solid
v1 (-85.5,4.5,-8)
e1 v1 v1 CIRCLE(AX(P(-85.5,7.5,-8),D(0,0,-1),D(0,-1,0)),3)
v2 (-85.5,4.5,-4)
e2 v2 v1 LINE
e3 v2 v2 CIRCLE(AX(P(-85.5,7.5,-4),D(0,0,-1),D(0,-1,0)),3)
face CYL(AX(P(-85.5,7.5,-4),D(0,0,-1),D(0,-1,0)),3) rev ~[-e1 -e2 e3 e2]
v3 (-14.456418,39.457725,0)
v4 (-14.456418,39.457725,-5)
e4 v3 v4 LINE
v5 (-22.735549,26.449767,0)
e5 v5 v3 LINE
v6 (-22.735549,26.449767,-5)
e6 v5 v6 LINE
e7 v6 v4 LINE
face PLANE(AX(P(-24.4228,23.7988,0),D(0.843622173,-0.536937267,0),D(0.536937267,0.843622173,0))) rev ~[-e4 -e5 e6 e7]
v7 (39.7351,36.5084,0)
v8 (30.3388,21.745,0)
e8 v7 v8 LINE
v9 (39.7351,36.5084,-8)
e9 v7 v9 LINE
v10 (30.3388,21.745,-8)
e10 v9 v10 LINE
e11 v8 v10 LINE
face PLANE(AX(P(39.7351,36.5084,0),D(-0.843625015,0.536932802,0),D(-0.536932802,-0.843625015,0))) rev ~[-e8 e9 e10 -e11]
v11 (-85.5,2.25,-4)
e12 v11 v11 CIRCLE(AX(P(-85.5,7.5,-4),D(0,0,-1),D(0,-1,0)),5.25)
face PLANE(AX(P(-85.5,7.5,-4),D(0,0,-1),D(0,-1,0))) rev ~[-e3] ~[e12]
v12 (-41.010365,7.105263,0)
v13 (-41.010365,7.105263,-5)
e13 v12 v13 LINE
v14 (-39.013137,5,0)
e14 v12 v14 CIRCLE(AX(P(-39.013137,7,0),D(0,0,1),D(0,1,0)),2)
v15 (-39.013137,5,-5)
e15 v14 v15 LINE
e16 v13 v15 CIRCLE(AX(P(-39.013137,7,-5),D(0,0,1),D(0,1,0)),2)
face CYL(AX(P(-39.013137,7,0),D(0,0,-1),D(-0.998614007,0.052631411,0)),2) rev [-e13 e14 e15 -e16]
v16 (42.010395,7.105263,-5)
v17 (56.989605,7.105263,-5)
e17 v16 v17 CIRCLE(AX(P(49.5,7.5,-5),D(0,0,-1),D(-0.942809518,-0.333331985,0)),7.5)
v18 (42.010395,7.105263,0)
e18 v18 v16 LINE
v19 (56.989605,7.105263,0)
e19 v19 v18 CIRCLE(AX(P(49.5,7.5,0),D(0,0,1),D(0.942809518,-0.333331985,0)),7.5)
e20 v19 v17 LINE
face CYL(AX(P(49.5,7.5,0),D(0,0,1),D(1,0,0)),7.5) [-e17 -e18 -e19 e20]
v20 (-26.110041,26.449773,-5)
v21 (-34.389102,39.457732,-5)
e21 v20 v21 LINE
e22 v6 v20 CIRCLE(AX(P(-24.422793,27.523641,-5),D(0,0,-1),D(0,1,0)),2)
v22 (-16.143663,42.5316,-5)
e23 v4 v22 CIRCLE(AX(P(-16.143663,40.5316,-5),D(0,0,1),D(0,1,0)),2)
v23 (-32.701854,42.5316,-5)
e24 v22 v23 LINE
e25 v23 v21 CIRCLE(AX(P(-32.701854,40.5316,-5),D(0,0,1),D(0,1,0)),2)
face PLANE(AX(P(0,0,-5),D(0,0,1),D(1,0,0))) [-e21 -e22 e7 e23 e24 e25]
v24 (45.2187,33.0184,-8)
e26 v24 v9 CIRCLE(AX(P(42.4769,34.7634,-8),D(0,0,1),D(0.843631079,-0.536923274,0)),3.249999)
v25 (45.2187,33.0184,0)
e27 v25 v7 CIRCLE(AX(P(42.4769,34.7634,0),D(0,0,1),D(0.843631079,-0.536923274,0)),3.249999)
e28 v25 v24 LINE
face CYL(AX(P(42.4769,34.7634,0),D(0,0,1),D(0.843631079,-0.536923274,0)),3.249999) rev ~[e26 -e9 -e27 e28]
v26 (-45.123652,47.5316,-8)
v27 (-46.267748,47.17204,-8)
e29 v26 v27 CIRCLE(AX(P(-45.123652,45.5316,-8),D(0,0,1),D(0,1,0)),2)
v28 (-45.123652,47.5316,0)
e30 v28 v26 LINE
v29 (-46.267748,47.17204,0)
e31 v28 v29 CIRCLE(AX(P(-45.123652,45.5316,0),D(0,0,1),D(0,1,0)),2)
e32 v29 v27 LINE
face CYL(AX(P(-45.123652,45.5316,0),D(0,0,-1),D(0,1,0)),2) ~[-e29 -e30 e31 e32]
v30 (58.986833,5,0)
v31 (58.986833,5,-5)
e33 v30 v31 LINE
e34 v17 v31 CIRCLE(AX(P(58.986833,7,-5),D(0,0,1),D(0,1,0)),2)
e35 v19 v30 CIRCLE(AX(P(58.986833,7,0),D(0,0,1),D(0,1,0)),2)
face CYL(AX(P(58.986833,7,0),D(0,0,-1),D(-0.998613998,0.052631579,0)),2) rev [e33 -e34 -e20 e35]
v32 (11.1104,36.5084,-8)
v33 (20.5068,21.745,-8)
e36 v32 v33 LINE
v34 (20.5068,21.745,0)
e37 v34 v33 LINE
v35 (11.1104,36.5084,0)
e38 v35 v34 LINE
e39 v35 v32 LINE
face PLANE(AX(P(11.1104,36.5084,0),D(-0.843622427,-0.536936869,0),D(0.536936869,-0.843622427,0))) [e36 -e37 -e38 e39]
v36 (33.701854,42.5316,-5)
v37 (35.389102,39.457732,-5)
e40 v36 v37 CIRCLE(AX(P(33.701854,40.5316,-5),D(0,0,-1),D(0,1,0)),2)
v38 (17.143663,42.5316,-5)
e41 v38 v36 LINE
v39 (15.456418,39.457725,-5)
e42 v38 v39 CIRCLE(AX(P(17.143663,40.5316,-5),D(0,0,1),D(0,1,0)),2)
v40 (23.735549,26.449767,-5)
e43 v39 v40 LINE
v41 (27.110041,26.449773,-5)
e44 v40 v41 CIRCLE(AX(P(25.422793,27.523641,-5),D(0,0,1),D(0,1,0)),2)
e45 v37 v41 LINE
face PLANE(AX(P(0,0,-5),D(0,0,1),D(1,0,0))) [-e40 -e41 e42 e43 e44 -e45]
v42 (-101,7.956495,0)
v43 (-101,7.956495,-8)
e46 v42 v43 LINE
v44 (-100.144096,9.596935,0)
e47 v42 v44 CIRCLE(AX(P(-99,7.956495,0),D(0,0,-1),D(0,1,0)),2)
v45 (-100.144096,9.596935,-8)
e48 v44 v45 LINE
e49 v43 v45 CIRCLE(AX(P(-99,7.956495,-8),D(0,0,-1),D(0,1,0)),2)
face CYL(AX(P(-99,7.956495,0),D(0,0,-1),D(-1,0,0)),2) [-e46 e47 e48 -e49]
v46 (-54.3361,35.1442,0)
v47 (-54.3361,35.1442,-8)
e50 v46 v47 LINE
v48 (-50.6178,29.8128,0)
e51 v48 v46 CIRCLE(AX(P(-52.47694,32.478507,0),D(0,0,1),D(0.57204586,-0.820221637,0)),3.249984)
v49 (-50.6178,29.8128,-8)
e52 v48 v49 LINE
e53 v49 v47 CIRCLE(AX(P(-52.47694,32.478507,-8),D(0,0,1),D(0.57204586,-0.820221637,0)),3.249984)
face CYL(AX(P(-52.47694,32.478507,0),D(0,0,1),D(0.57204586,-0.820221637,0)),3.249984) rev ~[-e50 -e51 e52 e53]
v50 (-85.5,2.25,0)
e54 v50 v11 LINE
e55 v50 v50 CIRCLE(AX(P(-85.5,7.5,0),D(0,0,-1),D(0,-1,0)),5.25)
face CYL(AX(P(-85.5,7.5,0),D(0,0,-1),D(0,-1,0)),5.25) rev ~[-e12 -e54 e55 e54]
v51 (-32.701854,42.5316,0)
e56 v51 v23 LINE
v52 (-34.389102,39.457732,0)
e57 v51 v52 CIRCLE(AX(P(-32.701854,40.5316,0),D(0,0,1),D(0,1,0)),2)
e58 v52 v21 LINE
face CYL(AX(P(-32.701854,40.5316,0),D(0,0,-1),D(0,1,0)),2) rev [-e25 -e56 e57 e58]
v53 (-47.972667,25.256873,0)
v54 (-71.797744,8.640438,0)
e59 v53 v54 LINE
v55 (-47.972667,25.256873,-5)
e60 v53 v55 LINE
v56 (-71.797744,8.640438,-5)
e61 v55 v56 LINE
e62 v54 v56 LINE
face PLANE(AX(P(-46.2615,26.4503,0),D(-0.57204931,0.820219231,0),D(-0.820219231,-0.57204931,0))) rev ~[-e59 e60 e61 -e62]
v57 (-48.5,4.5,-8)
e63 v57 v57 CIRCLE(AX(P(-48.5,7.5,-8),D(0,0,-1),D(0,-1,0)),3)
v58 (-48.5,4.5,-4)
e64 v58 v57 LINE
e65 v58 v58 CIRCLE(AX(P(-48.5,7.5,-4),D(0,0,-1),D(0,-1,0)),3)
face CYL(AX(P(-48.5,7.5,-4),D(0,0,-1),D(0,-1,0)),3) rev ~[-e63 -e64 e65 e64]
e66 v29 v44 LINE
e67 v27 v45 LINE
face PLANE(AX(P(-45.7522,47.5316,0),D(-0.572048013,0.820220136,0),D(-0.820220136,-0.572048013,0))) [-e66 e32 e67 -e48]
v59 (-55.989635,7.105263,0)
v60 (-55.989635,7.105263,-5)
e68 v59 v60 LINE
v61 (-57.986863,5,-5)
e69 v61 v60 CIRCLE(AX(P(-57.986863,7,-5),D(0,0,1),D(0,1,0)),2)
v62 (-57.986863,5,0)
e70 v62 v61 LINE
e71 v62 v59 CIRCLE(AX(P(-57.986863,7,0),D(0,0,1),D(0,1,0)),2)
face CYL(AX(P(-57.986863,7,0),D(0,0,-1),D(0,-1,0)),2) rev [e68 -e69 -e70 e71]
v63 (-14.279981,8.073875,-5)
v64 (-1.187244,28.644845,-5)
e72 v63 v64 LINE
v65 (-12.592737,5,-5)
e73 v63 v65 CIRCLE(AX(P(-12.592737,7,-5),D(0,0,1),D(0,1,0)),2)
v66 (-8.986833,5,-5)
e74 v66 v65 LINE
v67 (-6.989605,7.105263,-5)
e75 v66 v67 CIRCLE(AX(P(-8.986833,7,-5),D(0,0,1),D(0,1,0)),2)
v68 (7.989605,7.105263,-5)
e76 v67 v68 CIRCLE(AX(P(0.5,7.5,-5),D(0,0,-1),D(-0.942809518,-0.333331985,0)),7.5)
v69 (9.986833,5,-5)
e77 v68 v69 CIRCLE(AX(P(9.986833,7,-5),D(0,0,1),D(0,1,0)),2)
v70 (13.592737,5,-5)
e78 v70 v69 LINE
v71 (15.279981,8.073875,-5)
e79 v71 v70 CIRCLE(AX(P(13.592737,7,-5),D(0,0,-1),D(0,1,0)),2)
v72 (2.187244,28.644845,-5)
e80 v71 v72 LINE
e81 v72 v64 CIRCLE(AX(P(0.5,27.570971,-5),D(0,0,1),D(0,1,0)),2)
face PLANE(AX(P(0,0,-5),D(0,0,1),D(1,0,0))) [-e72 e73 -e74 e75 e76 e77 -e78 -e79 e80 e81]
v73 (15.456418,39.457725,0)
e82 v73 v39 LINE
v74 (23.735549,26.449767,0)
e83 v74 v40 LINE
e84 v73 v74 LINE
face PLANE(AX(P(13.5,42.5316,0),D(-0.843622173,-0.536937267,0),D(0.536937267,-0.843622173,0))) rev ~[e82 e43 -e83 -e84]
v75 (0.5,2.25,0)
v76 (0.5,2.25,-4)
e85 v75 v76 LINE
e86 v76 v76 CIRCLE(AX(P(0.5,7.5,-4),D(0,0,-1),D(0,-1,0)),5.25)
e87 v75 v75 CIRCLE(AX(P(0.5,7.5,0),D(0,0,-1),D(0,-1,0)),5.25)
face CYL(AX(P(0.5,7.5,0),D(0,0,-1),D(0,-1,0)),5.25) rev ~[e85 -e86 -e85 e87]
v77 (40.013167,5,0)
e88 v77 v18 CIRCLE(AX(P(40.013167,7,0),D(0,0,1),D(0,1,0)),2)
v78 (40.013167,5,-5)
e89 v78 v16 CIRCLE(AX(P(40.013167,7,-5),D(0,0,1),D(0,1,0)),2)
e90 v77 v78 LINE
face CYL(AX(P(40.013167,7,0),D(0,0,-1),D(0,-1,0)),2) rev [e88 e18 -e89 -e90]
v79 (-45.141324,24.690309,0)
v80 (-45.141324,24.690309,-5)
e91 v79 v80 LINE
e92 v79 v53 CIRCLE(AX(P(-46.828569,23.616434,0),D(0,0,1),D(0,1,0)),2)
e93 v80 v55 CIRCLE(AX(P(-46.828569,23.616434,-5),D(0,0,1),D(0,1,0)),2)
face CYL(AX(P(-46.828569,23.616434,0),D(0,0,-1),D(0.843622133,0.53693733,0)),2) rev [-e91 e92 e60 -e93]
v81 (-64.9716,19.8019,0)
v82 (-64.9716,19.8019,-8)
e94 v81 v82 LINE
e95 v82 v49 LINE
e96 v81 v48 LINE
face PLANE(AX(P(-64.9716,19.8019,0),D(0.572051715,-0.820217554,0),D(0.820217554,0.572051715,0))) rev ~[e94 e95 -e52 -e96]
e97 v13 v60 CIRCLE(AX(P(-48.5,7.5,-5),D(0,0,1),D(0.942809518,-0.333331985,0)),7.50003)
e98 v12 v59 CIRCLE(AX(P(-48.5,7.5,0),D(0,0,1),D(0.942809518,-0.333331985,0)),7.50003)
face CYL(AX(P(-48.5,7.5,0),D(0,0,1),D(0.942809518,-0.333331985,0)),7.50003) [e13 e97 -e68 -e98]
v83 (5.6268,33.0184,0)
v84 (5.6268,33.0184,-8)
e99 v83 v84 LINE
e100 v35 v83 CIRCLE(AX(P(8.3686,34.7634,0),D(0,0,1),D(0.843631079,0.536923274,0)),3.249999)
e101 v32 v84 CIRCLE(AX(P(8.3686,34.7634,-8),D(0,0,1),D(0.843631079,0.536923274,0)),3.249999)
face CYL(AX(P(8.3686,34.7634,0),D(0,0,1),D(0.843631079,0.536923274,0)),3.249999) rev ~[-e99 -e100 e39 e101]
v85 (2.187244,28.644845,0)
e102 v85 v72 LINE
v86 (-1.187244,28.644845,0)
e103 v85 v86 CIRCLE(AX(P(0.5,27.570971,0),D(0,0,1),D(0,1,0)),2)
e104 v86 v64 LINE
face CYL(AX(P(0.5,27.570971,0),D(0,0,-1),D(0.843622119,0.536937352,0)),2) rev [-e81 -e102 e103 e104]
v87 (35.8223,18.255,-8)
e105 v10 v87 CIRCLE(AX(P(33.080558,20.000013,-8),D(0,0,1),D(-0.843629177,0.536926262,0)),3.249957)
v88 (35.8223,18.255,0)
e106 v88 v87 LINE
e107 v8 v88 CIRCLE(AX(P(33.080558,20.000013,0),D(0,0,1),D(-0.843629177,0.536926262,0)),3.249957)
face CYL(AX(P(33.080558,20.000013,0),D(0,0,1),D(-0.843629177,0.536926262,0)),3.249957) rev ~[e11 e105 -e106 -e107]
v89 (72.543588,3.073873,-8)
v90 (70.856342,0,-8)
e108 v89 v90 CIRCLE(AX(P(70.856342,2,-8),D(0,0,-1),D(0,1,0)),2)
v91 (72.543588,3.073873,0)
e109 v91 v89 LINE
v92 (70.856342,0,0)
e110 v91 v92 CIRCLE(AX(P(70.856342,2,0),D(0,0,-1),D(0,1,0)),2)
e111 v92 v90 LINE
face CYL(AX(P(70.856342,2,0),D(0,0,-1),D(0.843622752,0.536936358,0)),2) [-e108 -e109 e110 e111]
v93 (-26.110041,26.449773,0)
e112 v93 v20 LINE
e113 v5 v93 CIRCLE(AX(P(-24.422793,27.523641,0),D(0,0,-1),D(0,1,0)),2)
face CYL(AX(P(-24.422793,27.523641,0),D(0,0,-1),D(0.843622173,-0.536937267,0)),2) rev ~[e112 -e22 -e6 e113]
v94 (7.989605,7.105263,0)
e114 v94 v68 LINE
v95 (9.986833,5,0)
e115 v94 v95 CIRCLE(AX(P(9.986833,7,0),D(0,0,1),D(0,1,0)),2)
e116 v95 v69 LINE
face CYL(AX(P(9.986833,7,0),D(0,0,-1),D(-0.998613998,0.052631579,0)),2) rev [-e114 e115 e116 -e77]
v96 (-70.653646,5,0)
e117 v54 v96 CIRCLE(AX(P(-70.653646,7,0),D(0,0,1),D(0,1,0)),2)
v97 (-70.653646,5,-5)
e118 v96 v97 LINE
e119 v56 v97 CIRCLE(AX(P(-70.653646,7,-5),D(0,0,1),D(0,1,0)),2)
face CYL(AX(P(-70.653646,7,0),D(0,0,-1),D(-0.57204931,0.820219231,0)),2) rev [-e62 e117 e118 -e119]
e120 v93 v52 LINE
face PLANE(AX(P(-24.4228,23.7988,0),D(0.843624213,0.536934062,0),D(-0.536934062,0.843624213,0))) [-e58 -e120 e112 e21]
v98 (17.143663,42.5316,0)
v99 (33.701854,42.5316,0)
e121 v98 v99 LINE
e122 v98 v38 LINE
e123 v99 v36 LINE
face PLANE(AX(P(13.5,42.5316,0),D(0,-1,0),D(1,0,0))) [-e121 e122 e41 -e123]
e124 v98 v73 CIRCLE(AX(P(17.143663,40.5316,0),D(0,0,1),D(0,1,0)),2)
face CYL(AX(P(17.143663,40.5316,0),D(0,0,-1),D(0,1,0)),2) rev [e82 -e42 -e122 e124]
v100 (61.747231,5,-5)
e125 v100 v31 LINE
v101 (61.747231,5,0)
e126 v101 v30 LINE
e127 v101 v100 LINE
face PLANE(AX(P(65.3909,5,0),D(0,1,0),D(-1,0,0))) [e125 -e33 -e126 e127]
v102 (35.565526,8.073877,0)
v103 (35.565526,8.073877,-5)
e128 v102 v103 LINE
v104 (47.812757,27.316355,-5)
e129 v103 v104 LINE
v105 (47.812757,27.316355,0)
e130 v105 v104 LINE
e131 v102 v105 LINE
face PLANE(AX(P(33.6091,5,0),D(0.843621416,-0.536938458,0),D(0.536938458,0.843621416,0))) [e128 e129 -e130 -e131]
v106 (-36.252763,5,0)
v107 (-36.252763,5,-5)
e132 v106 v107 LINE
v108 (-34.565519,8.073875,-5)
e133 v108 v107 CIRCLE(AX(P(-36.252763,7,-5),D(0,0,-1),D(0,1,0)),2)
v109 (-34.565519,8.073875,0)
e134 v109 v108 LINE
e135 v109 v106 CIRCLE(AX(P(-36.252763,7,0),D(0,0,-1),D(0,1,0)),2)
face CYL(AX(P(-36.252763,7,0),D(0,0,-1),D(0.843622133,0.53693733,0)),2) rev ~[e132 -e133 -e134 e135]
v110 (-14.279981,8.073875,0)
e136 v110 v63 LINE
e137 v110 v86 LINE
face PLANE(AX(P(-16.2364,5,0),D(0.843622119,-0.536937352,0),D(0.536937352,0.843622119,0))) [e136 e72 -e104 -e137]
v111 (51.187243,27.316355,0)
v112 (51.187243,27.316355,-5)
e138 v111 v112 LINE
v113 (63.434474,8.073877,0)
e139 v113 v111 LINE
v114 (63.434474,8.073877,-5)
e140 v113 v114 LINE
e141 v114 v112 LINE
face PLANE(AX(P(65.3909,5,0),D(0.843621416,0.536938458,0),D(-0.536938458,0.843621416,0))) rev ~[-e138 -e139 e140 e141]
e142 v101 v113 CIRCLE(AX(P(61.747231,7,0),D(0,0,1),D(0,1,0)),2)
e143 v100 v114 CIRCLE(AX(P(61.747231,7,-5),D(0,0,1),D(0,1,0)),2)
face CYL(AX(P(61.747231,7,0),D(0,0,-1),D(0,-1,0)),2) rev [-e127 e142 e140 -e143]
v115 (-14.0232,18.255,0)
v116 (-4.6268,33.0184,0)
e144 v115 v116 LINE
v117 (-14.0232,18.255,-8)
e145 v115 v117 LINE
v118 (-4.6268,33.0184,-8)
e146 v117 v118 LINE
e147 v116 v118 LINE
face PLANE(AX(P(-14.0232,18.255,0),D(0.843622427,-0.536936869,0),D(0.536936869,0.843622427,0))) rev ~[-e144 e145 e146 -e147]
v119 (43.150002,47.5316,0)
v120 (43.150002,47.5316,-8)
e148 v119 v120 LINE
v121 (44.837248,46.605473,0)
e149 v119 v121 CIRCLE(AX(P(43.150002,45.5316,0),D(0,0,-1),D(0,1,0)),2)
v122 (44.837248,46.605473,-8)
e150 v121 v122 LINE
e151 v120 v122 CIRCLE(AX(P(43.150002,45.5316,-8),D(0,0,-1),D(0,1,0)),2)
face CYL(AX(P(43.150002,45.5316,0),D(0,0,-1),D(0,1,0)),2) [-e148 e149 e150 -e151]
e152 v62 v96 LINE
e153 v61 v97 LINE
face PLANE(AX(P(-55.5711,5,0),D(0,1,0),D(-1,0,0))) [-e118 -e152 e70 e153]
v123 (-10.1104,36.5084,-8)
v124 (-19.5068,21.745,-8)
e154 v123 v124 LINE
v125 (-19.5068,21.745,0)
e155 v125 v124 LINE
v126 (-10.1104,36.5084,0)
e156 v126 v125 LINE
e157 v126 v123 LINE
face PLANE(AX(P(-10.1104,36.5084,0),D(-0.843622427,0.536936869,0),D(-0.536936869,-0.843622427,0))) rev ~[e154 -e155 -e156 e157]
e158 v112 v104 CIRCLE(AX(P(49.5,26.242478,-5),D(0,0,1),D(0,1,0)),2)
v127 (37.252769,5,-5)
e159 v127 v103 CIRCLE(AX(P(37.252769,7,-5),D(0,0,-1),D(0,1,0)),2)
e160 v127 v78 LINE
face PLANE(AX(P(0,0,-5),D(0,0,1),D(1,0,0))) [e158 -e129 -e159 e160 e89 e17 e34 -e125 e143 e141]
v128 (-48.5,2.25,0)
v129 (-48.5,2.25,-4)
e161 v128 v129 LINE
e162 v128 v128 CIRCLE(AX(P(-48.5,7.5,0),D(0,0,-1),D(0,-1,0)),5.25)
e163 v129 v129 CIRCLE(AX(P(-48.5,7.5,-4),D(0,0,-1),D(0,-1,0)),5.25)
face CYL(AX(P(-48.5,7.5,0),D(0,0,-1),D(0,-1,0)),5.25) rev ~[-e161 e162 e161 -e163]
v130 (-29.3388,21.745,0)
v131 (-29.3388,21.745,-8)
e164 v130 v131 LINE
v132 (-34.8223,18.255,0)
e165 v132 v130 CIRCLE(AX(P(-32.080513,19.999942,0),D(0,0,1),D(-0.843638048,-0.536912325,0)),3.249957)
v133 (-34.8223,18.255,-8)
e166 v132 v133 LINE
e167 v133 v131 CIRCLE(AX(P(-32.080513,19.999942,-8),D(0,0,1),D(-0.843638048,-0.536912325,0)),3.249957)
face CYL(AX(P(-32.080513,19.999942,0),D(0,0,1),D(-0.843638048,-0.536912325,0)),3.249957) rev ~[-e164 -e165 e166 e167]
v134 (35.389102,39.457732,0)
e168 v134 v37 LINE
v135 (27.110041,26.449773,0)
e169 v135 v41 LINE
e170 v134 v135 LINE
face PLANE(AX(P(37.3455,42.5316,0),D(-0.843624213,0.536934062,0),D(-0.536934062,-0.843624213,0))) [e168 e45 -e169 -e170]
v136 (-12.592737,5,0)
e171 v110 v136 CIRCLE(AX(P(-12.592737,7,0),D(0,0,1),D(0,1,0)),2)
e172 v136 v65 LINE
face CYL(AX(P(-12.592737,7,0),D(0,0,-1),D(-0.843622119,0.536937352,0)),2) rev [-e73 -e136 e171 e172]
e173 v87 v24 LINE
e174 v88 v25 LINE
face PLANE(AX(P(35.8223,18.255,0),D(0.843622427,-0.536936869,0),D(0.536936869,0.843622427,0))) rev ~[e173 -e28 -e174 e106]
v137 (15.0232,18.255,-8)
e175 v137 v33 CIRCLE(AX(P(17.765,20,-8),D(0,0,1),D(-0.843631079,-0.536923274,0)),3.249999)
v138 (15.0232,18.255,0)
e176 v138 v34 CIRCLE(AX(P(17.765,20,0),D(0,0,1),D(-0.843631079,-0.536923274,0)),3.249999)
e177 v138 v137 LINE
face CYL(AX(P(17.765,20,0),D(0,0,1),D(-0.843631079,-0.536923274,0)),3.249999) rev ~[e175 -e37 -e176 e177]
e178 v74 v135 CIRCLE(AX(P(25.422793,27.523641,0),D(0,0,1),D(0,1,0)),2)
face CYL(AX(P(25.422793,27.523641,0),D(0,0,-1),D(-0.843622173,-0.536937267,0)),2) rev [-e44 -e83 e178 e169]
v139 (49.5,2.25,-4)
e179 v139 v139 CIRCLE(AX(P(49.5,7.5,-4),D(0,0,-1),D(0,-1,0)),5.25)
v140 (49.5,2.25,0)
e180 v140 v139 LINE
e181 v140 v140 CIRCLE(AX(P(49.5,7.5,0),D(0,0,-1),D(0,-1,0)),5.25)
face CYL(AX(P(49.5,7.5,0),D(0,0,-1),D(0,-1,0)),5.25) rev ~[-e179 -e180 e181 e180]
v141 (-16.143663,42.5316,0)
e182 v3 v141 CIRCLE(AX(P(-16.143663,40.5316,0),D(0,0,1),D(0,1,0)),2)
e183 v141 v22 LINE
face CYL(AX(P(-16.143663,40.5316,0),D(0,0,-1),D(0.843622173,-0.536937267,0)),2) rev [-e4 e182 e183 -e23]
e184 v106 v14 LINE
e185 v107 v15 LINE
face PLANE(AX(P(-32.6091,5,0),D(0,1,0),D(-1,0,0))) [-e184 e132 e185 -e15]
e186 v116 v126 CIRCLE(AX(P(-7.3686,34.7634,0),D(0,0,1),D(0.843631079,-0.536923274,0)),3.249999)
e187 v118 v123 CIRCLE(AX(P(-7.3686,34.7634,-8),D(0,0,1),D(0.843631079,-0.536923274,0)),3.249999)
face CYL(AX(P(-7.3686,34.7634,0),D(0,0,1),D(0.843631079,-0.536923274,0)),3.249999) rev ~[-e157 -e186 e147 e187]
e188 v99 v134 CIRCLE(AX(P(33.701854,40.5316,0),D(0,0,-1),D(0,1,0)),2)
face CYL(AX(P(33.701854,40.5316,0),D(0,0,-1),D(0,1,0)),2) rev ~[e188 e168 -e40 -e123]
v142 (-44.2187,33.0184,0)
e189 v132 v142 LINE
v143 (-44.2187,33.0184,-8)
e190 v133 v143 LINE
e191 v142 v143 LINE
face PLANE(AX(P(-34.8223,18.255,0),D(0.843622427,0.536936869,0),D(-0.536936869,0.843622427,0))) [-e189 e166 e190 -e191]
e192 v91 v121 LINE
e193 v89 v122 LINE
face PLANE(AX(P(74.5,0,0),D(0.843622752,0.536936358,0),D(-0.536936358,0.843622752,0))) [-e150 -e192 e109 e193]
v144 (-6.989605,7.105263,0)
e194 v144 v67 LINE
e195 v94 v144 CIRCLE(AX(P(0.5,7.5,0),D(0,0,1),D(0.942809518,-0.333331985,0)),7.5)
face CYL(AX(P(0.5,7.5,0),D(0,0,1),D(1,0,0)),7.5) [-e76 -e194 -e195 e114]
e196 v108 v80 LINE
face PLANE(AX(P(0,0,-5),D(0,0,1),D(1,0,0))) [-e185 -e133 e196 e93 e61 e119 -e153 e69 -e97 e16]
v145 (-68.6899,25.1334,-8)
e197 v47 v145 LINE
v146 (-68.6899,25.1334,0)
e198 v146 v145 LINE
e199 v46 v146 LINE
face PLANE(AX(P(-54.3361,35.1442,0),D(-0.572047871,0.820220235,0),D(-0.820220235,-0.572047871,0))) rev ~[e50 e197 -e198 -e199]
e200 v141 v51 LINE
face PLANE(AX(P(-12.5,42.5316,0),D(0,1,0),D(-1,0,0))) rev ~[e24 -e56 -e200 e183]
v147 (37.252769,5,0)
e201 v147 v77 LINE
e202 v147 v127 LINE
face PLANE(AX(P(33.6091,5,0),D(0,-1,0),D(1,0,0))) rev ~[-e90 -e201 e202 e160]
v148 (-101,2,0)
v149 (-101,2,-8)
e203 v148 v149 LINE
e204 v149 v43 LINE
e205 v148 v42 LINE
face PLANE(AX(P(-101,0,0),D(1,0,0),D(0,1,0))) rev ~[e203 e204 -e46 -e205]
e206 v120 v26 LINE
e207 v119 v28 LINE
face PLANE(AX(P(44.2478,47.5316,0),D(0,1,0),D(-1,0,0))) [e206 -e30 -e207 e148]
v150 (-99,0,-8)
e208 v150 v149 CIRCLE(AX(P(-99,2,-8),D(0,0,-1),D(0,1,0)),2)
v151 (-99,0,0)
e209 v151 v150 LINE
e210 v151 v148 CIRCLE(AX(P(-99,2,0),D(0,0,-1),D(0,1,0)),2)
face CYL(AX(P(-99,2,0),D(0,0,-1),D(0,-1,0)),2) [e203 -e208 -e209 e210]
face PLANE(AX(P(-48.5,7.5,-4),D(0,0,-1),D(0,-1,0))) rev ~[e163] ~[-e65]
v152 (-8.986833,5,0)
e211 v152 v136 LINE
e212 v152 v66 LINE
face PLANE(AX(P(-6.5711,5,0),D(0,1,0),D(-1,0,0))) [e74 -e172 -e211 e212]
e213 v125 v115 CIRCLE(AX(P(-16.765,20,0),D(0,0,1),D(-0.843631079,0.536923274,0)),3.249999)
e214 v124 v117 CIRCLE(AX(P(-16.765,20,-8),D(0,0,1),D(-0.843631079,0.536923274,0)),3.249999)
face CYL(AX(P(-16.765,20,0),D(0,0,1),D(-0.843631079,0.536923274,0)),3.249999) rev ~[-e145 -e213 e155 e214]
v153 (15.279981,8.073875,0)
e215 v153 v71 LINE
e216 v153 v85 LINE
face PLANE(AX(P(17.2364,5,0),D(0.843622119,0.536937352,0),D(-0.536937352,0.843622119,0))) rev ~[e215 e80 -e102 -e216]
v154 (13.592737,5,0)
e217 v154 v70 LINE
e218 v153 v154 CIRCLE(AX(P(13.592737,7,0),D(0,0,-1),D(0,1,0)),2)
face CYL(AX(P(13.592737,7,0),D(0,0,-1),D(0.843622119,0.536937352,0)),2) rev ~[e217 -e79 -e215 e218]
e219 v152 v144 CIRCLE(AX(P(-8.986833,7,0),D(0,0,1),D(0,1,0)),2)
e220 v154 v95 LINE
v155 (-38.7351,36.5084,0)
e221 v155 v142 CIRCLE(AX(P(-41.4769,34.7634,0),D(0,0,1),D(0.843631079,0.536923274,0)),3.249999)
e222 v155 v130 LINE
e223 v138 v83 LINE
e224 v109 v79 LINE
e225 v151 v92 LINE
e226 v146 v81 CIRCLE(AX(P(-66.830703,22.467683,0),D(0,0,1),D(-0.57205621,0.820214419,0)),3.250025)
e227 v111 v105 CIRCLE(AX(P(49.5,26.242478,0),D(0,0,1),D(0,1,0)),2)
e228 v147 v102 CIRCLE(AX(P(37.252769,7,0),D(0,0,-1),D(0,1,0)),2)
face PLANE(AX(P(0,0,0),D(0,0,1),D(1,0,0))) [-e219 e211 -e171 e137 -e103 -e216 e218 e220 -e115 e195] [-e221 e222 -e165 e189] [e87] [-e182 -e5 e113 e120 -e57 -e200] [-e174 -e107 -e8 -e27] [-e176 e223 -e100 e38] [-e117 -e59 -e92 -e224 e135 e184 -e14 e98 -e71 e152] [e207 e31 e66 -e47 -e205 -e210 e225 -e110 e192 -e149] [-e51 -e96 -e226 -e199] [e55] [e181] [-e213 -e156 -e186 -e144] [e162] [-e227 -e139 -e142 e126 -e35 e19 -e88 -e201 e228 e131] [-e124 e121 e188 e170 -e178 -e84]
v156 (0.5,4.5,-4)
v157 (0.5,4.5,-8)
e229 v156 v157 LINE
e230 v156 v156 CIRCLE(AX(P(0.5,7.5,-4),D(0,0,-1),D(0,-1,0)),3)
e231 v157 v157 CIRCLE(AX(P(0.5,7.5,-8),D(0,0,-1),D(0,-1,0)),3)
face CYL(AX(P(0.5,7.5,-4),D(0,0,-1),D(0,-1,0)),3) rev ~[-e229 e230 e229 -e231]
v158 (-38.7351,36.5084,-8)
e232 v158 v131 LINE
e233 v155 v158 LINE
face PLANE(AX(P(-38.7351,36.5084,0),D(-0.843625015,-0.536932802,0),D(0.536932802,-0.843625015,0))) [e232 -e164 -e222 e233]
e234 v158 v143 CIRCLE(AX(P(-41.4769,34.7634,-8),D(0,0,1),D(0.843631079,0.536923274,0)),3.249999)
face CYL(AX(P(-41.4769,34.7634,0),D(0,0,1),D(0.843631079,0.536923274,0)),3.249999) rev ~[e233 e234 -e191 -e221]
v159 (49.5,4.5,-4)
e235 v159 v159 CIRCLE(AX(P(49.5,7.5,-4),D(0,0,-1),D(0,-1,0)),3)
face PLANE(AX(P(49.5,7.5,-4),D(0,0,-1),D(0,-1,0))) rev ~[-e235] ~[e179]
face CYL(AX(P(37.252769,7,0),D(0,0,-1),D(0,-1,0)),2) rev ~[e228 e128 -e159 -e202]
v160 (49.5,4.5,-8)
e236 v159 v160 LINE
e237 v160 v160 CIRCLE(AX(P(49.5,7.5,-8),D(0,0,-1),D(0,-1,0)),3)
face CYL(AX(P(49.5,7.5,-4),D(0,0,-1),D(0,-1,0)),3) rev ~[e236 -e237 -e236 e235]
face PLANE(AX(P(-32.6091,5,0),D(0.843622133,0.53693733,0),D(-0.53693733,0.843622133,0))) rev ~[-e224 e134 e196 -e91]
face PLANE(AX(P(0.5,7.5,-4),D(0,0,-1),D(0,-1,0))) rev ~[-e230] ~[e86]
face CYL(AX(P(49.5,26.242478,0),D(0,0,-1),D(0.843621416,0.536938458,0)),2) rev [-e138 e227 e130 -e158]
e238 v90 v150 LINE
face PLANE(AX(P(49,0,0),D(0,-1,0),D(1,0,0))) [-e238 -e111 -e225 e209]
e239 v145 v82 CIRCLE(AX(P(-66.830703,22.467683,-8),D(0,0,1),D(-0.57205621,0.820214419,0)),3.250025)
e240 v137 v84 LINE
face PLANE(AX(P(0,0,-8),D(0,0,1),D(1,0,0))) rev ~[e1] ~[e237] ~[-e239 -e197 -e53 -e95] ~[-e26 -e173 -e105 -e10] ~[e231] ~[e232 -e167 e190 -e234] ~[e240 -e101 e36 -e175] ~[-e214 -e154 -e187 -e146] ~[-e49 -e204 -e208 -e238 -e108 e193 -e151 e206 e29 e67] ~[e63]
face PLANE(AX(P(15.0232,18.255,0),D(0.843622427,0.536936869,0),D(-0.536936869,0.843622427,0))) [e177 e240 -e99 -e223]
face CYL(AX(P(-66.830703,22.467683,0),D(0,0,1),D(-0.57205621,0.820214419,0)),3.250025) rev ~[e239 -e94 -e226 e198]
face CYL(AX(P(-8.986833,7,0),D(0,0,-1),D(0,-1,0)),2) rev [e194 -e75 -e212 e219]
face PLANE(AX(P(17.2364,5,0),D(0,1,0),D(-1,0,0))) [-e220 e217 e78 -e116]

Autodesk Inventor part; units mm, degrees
ref_plane "YZ Plane" through (0, 0, 0) normal (1, 0, 0) x (0, 1, 0)
ref_plane "XZ Plane" through (0, 0, 0) normal (0, 1, 0) x (-1, 0, 0)
ref_plane "XY Plane" through (0, 0, 0) normal (0, 0, 1) x (1, 0, 0)
sketch "Base" plane through (0, 0, 0) normal (0, 0, 1) x (1, 0, 0)
  line L0 (-45.7522, 47.5316) -> (-101, 9)
  line L1 (44.2478, 47.5316) -> (-45.7522, 47.5316)
  line L2 (-48, 0) -> (-101, 0)
  line L3 (0, 0) -> (-48, 0)
  line L4 (49, 0) -> (0, 0)
  line L5 (74.5, 0) -> (44.2478, 47.5316)
  line L6 (49, 0) -> (74.5, 0)
  line L7 (-101, 0) -> (-101, 9)
  dimension "d29" = 16.3728
  dimension "d30" = 16.3728
  dimension "d48" = 57.525
  dimension "d50" = 145.107
  dimension "d51" = 90
  dimension "d52" = 175.5
  dimension "d53" = 9
  dimension "d57" = 53
  dimension "d58" = 48
  dimension "d59" = 49
extrude "BaseFeature" add sketch "Base" against normal blind 8
fillet "BaseFilletsFeature" radius 2 5 edges at (-101, 9, -4) (-101, 0, -4) (-45.7522, 47.5316, -4) (44.2478, 47.5316, -4) (74.5, 0, -4)
sketch "Sinks" plane through (0, 0, 0) normal (0, 0, 1) x (1, 0, 0)
  line L0 (33.6091, 5) -> (42.4289, 5)
  line L1 (17.2364, 5) -> (7.5711, 5)
  line L2 (17.2364, 5) -> (0.5, 31.2958)
  line L3 (33.6091, 5) -> (49.5, 29.9673)
  line L4 (-32.6091, 5) -> (-41.4289, 5)
  circle A0 centre (0.5, 7.5) radius 7.5
  line L5 (-16.2364, 5) -> (0.5, 31.2958)
  line L6 (-6.5711, 5) -> (-16.2364, 5)
  line L7 (-32.6091, 5) -> (-46.2615, 26.4503)
  circle A1 centre (-85.5, 7.5) radius 7.5
  line L8 (-55.5711, 5) -> (-77.0175, 5)
  line L9 (-46.2615, 26.4503) -> (-77.0175, 5)
  circle A2 centre (-48.5, 7.5) radius 7.5 construction
  line L10 (65.3909, 5) -> (56.5711, 5)
  line L11 (65.3909, 5) -> (49.5, 29.9673)
  circle A3 centre (49.5, 7.5) radius 7.5
  line L12 (37.3455, 42.5316) -> (25.4228, 23.7988)
  line L13 (-12.5, 42.5316) -> (-36.3455, 42.5316)
  line L14 (-24.4228, 23.7988) -> (-12.5, 42.5316)
  line L15 (-24.4228, 23.7988) -> (-36.3455, 42.5316)
  line L16 (13.5, 42.5316) -> (25.4228, 23.7988)
  arc A4 (-41.4289, 5) -> (-55.5711, 5) centre (-48.5, 7.5) ccw
  line L17 (70.8563, 0) -> (-99, 0) construction
  line L18 (-101, 2) -> (-101, 7.9565) projected
  line L19 (44.8372, 46.6055) -> (72.5436, 3.0739) construction
  line L20 (13.5, 42.5316) -> (37.3455, 42.5316)
  line L21 (-45.1237, 47.5316) -> (43.15, 47.5316) construction
  line L22 (-100.1441, 9.5969) -> (-46.2678, 47.172) construction
  line L23 (0.5, 31.2958) -> (0.5, 7.5) construction
  line L24 (49.5, 29.9673) -> (49.5, 7.5) construction
  point P0 (0, 0)
  point P1 (49.5, 0)
  dimension "d17" = 15
  dimension "d18" = 15.5
  dimension "d19" = 37
  dimension "d20" = 49
  dimension "d21" = 49
  dimension "d22" = 5
  dimension "d23" = 5
  dimension "d24" = 5
  dimension "d25" = 17
  dimension "d26" = 17
  dimension "d27" = 17
  dimension "d28" = 17
  dimension "d29" = 16.3728
  dimension "d30" = 16.3728
  dimension "d32" = 26
  dimension "d33" = 0
  dimension "d35" = 17
extrude "SinksFeature" cut sketch "Sinks" against normal blind 5 contours L3 L11 L10 A3 L0 | L1 A0 L6 L5 L2 | L4 A4 L8 L9 L7 | L12 L16 L20 | L14 L15 L13
fillet "SinkFilletsFeature" radius 2 21 edges at (-46.2615, 26.4503, -2.5) (-77.0175, 5, -2.5) (-32.6091, 5, -2.5) (-55.5711, 5, -2.5) (-41.4289, 5, -2.5) (-36.3455, 42.5316, -2.5) (-12.5, 42.5316, -2.5) (-24.4228, 23.7988, -2.5) (0.5, 31.2958, -2.5) (-16.2364, 5, -2.5) (17.2364, 5, -2.5) (13.5, 42.5316, -2.5) (37.3455, 42.5316, -2.5) (25.4228, 23.7988, -2.5) (49.5, 29.9673, -2.5) (33.6091, 5, -2.5) (65.3909, 5, -2.5) (42.4289, 5, -2.5) (-6.5711, 5, -2.5) (7.5711, 5, -2.5) (56.5711, 5, -2.5)
sketch "Rails" plane through (0, 0, 0) normal (0, 0, 1) x (1, 0, 0)
  line L0 (15.0232, 18.255) -> (5.6268, 33.0184)
  arc A0 (15.0232, 18.255) -> (20.5068, 21.745) centre (17.765, 20) ccw
  line L1 (39.7351, 36.5084) -> (30.3388, 21.745)
  line L2 (35.8223, 18.255) -> (45.2187, 33.0184)
  arc A1 (30.3388, 21.745) -> (35.8223, 18.255) centre (33.0805, 20) ccw
  line L3 (11.1104, 36.5084) -> (20.5068, 21.745)
  arc A2 (45.2187, 33.0184) -> (39.7351, 36.5084) centre (42.4769, 34.7634) ccw
  line L4 (-34.8223, 18.255) -> (-44.2187, 33.0184)
  line L5 (-38.7351, 36.5084) -> (-29.3388, 21.745)
  arc A3 (-34.8223, 18.255) -> (-29.3388, 21.745) centre (-32.0805, 20) ccw
  arc A4 (-38.7351, 36.5084) -> (-44.2187, 33.0184) centre (-41.4769, 34.7634) ccw
  arc A5 (-4.6268, 33.0184) -> (-10.1104, 36.5084) centre (-7.3686, 34.7634) ccw
  line L6 (-14.0232, 18.255) -> (-4.6268, 33.0184)
  line L7 (-10.1104, 36.5084) -> (-19.5068, 21.745)
  arc A6 (-19.5068, 21.745) -> (-14.0232, 18.255) centre (-16.765, 20) ccw
  arc A7 (11.1104, 36.5084) -> (5.6268, 33.0184) centre (8.3686, 34.7634) ccw
  line L8 (-64.9716, 19.8019) -> (-50.6178, 29.8128)
  line L9 (-54.3361, 35.1442) -> (-68.6899, 25.1334)
  arc A8 (-68.6899, 25.1334) -> (-64.9716, 19.8019) centre (-66.8308, 22.4677) ccw
  arc A9 (-50.6178, 29.8128) -> (-54.3361, 35.1442) centre (-52.4769, 32.4785) ccw
  line L10 (-100.1441, 9.5969) -> (-46.2678, 47.172) construction
  line L11 (-71.7978, 8.6404) -> (-47.9727, 25.2568) construction
  line L12 (-45.1413, 24.6903) -> (-34.5656, 8.0739) construction
  line L13 (-26.11, 26.4498) -> (-34.3891, 39.4577) construction
  line L14 (-14.4564, 39.4577) -> (-22.7355, 26.4498) construction
  line L15 (-14.28, 8.0739) -> (-1.1872, 28.6449) construction
  line L16 (2.1872, 28.6449) -> (15.28, 8.0739) construction
  line L17 (23.7355, 26.4498) -> (15.4564, 39.4577) construction
  line L18 (35.3891, 39.4577) -> (27.11, 26.4498) construction
  line L19 (35.5656, 8.0739) -> (47.8128, 27.3164) construction
  line L20 (-32.0805, 20) -> (-16.765, 20) construction
  line L21 (17.765, 20) -> (33.0805, 20) construction
  line L22 (70.8563, 0) -> (-99, 0) construction
  point P0 (0, 0)
  dimension "d29" = 16.3728
  dimension "d30" = 16.3728
  dimension "d36" = 3.25
  dimension "d37" = 17.5
  dimension "d38" = 17
  dimension "d39" = 5.25
  dimension "d40" = 5.25
  dimension "d41" = 5.25
  dimension "d42" = 5.25
  dimension "d43" = 5.25
  dimension "d44" = 5.25
  dimension "d45" = 20
  dimension "d46" = 11
extrude "RailsFeature" cut sketch "Rails" against normal through all
hole "BaseHolesFeature" at (-85.5, 7.5, 0) at (-48.5, 7.5, 0) at (0.5, 7.5, 0) at (49.5, 7.5, 0) direction (0, 0, -1) diameter 6 end through all counterbore diameter 10.5 counterbore depth 4
equation "\"d30\" = d29"
equation "\"d23\" = d22"
equation "\"d24\" = d22"
equation "\"d26\" = d25"
equation "\"d27\" = d25"
equation "\"d28\" = d25"
equation "\"d35\" = d25"
equation "\"d39\" = -d36 + 0.5 * d38"
equation "\"d40\" = d39"
equation "\"d41\" = d39"
equation "\"d42\" = d39"
equation "\"d43\" = d39"
equation "\"d44\" = d39"
properties part number "ForearmUpperShockPlate"
